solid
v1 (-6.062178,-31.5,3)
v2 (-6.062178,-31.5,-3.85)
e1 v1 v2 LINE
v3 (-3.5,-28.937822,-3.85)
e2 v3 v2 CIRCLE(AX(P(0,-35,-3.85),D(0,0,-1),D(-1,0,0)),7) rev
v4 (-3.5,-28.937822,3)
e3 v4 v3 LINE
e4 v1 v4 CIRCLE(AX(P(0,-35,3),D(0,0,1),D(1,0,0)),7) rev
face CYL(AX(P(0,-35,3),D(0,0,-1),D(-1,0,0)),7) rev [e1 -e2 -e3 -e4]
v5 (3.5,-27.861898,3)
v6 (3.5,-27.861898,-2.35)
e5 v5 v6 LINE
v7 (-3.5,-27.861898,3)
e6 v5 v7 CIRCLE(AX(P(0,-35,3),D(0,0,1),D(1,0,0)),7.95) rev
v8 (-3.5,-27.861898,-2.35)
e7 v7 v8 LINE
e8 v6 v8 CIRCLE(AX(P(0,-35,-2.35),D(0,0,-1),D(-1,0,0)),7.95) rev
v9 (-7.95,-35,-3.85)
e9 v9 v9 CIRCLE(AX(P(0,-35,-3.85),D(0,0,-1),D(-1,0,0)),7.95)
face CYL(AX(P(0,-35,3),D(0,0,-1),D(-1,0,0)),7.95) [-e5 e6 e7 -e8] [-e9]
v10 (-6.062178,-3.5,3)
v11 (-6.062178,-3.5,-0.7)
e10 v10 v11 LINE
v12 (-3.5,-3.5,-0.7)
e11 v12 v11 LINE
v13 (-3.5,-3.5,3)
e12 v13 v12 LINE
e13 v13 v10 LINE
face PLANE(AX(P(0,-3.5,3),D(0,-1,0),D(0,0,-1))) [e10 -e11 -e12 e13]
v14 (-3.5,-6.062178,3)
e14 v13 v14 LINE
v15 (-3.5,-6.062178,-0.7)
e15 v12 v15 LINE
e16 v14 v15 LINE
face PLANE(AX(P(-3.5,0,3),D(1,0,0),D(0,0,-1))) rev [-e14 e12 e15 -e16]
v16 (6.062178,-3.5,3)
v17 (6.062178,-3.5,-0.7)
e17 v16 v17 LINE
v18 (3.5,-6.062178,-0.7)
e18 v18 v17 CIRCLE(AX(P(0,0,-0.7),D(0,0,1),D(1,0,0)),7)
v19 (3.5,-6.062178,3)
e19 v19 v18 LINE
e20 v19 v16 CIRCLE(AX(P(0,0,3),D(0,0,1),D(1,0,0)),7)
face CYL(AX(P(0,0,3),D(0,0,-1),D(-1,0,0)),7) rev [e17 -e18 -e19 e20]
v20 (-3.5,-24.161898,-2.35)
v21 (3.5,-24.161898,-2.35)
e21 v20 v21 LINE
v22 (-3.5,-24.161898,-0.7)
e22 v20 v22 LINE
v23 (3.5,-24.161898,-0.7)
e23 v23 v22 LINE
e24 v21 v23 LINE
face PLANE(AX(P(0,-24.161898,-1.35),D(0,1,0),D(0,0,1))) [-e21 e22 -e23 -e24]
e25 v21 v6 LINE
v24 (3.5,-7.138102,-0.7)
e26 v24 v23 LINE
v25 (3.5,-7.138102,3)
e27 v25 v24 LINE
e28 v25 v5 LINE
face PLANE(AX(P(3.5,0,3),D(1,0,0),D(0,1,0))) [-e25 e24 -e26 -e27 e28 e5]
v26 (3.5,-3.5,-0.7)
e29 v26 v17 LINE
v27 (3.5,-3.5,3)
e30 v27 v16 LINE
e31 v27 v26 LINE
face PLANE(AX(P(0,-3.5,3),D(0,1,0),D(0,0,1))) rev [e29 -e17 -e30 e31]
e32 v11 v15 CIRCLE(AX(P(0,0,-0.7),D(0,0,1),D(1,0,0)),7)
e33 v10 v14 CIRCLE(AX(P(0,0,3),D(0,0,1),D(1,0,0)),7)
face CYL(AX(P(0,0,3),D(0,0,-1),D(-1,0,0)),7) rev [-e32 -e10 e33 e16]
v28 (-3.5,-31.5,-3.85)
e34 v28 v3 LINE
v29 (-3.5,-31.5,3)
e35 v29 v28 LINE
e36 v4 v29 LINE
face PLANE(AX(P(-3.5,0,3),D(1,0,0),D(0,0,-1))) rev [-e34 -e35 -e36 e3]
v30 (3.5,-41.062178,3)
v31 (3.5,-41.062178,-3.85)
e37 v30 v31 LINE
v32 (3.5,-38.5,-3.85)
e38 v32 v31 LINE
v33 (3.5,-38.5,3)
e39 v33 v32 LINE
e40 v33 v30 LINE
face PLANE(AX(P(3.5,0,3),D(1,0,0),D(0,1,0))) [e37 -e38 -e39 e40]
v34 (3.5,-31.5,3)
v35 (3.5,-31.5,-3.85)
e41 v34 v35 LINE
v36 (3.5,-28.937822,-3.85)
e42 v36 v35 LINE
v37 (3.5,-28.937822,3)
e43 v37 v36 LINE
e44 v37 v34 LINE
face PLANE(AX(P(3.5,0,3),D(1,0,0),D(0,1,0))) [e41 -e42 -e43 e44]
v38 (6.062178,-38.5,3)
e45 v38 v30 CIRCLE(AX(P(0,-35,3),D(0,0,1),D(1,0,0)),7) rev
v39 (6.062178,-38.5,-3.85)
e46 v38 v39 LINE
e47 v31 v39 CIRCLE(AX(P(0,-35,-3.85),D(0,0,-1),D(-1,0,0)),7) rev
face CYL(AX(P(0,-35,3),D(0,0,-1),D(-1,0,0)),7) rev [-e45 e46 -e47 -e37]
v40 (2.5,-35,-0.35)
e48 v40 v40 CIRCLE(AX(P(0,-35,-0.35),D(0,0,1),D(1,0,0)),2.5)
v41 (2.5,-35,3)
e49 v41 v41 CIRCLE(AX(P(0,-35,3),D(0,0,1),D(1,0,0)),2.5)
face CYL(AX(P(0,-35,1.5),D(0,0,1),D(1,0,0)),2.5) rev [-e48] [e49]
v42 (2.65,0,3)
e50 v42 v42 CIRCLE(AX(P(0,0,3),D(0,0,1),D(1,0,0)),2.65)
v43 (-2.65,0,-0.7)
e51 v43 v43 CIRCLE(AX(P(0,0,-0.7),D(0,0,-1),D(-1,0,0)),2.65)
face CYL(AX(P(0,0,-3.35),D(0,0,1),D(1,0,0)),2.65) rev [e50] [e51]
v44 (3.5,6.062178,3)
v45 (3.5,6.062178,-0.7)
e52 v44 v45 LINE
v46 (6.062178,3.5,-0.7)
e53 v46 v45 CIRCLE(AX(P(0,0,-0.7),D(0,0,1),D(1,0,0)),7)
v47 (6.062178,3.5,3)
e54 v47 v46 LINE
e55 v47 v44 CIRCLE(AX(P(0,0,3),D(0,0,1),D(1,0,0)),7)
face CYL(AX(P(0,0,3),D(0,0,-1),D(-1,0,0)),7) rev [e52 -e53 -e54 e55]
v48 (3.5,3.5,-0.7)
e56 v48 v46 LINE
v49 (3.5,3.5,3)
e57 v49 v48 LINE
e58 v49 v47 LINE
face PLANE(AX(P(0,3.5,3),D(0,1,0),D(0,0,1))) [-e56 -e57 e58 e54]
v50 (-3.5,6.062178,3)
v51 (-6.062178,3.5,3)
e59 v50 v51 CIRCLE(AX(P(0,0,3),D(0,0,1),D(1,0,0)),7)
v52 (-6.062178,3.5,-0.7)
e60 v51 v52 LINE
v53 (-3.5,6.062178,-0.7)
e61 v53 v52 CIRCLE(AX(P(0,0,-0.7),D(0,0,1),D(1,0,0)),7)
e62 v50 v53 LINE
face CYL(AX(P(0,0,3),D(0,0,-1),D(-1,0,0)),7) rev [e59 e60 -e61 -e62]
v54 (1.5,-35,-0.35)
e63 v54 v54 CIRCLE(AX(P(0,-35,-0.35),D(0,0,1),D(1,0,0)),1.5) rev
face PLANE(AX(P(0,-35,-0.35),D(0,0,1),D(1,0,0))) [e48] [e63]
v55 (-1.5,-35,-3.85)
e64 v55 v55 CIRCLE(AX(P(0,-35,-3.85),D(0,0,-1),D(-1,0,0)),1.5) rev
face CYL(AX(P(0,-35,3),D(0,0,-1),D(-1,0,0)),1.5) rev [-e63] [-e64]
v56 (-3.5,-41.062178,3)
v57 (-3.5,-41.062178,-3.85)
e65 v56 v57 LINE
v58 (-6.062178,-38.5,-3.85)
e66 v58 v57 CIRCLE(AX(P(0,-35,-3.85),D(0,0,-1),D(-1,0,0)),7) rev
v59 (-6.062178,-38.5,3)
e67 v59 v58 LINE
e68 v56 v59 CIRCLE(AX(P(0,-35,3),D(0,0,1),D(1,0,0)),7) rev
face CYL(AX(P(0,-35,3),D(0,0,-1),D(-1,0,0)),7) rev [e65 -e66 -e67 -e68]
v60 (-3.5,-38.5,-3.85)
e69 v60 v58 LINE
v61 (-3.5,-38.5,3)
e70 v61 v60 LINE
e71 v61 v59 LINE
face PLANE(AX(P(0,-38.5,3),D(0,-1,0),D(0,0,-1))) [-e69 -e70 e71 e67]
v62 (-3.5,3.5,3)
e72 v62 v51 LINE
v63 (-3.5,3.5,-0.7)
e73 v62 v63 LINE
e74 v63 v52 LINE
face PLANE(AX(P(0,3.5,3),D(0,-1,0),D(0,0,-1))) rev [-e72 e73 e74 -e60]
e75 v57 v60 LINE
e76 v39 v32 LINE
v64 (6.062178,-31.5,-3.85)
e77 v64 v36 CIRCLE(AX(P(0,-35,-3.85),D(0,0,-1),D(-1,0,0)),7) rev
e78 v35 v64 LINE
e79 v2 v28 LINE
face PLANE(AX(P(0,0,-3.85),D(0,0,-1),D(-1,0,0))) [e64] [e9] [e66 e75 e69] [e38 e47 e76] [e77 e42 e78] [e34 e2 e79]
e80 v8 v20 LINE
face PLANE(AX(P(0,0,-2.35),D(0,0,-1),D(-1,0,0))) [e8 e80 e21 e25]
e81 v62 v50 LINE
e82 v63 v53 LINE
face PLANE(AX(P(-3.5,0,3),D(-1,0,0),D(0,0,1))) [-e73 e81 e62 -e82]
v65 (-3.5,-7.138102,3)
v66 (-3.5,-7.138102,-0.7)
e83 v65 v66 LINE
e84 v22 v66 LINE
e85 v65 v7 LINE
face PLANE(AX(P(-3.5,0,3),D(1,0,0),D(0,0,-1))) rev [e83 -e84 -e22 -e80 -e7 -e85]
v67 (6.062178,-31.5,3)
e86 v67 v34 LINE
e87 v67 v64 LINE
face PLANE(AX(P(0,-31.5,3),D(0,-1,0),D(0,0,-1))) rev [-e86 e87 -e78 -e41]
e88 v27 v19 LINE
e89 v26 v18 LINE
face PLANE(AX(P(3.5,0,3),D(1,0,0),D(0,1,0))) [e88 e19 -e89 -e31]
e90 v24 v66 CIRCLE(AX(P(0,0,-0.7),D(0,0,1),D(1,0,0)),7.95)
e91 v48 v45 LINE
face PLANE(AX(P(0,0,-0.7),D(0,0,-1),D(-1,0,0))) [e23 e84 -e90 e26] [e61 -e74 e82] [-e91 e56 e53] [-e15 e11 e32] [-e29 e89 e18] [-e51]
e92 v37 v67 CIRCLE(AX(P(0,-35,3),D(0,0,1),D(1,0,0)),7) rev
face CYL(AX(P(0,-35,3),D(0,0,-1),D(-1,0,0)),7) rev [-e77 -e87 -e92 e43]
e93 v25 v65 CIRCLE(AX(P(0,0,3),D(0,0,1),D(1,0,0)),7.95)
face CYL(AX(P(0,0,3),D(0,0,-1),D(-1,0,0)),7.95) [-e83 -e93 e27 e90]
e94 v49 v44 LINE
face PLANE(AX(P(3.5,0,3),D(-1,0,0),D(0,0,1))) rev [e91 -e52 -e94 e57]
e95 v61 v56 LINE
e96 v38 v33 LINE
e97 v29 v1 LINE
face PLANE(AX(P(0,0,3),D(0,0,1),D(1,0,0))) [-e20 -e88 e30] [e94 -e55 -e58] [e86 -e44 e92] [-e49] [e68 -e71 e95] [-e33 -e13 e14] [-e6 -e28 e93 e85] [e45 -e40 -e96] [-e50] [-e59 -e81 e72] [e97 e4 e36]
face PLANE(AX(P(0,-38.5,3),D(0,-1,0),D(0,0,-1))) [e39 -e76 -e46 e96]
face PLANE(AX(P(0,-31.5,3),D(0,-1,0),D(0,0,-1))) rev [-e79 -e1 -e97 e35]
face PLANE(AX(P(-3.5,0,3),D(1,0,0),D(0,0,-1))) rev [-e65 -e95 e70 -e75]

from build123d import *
from build123d.topology import SkipClean

# Parameters (mm, degrees)
SKETCH1_R               = 3.5
SKETCH1_R_2             = 1.5
BOSS_EXTRUDE4_DEPTH     = 3
BOSS_EXTRUDE5_START     = 3
SKETCH3_R               = 1.5
BOSS_EXTRUDE5_DEPTH     = 3
SKETCH4_R               = 2.5
CUT_EXTRUDE1_DEPTH      = 1.5
SKETCH5_R               = 7
CUT_EXTRUDE2_DEPTH      = 2
SKETCH6_R               = 7.95
CUT_EXTRUDE3_DEPTH      = 1
SKETCH7_R               = 2.5
CUT_EXTRUDE4_DEPTH      = 1.85
BOSS_EXTRUDE6_START     = 0.7
SKETCH8_R               = 7.95
SKETCH8_R_2             = 7
BOSS_EXTRUDE6_DEPTH     = 0.7
BOSS_EXTRUDE8_START     = 0.7
SKETCH9_R               = 7.95
SKETCH9_R_2             = 1.5
BOSS_EXTRUDE8_DEPTH     = 0.7
BOSS_EXTRUDE9_START     = 0.7
BOSS_EXTRUDE9_DEPTH     = 0.7
CUT_EXTRUDE5_DEPTH      = 45.603755447
CUT_EXTRUDE5_DEPTH_BACK = 45.603755447
SKETCH11_W              = 3
SKETCH11_H              = 15.9
SKETCH11_W_2            = 2
BOSS_EXTRUDE10_START    = 0.65
BOSS_EXTRUDE10_DEPTH    = 0.65
BOSS_EXTRUDE11_START    = 2.65
SKETCH13_R              = 1.5
BOSS_EXTRUDE11_DEPTH    = 2.65
SKETCH14_R              = 2.65
CUT_EXTRUDE6_DEPTH      = 45.138730158
BOSS_EXTRUDE12_START    = 0.5
SKETCH15_R              = 7.95
SKETCH15_R_2            = 1.5
BOSS_EXTRUDE12_DEPTH    = 0.5
BOSS_EXTRUDE13_START    = 1
BOSS_EXTRUDE13_DEPTH    = 1


with BuildPart() as part:
    # Sketch1 → Boss-Extrude4 (new body)
    # profile 1 of 34: a face of its own
    with BuildSketch(Plane.XY):
        with BuildLine():
            Line((-3.5, 3.5), (0, 3.5))
            Line((0, 3.5), (3.5, 3.5))
            Line((3.5, 3.5), (3.5, 6.062177826))
            ThreePointArc((3.5, 6.062177826), (0, 7), (-3.5, 6.062177826))
            Line((-3.5, 6.062177826), (-3.5, 3.5))
        make_face()
    # profile 2 of 34: a face of its own
    with BuildSketch(Plane.XY):
        with BuildLine():
            ThreePointArc((3.5, 6.062177826), (4.949747468, 4.949747468), (6.062177826, 3.5))
            Line((6.062177826, 3.5), (7.138101989, 3.5))
            ThreePointArc((7.138101989, 3.5), (0, 7.95), (-7.138101989, 3.5))
            Line((-7.138101989, 3.5), (-6.062177826, 3.5))
            ThreePointArc((-6.062177826, 3.5), (-4.949747468, 4.949747468), (-3.5, 6.062177826))
            ThreePointArc((-3.5, 6.062177826), (0, 7), (3.5, 6.062177826))
        make_face()
    # profile 3 of 34: a face of its own
    with BuildSketch(Plane.XY):
        with BuildLine():
            Line((3.5, -27.861898011), (3.5, -7.138101989))
            ThreePointArc((3.5, -7.138101989), (0, -7.95), (-3.5, -7.138101989))
            Line((-3.5, -7.138101989), (-3.5, -27.861898011))
            ThreePointArc((-3.5, -27.861898011), (0, -27.05), (3.5, -27.861898011))
        make_face()
    # profile 4 of 34: a face of its own
    with BuildSketch(Plane.XY):
        with BuildLine():
            Line((-6.062177826, -38.5), (-7.138101989, -38.5))
            ThreePointArc((-7.138101989, -38.5), (0, -42.95), (7.138101989, -38.5))
            Line((7.138101989, -38.5), (6.062177826, -38.5))
            ThreePointArc((6.062177826, -38.5), (4.949747468, -39.949747468), (3.5, -41.062177826))
            ThreePointArc((3.5, -41.062177826), (0, -42), (-3.5, -41.062177826))
            ThreePointArc((-3.5, -41.062177826), (-4.949747468, -39.949747468), (-6.062177826, -38.5))
        make_face()
    # profile 5 of 34: a face of its own
    with BuildSketch(Plane.XY):
        with BuildLine():
            Line((3.5, -41.062177826), (3.5, -38.5))
            Line((3.5, -38.5), (0, -38.5))
            Line((0, -38.5), (-3.5, -38.5))
            Line((-3.5, -38.5), (-3.5, -41.062177826))
            ThreePointArc((-3.5, -41.062177826), (0, -42), (3.5, -41.062177826))
        make_face()
    # profile 6 of 34: a face of its own
    with BuildSketch(Plane.XY):
        with BuildLine():
            ThreePointArc((7.95, -35), (7.744366043, -33.203532746), (7.138101989, -31.5))
            Line((7.138101989, -31.5), (6.062177826, -31.5))
            ThreePointArc((6.062177826, -31.5), (6.761480784, -33.188266684), (7, -35))
            ThreePointArc((7, -35), (6.761480784, -36.811733316), (6.062177826, -38.5))
            Line((6.062177826, -38.5), (7.138101989, -38.5))
            ThreePointArc((7.138101989, -38.5), (7.744366043, -36.796467254), (7.95, -35))
        make_face()
    # profile 7 of 34: a face of its own
    with BuildSketch(Plane.XY):
        with BuildLine():
            Line((-6.062177826, -31.5), (-7.138101989, -31.5))
            ThreePointArc((-7.138101989, -31.5), (-7.95, -35), (-7.138101989, -38.5))
            Line((-7.138101989, -38.5), (-6.062177826, -38.5))
            ThreePointArc((-6.062177826, -38.5), (-7, -35), (-6.062177826, -31.5))
        make_face()
    # profile 8 of 34: a face of its own
    with BuildSketch(Plane.XY):
        with BuildLine():
            Line((3.5, -38.5), (3.5, -35))
            ThreePointArc((3.5, -35), (2.474873734, -37.474873734), (0, -38.5))
            Line((0, -38.5), (3.5, -38.5))
        make_face()
    # profile 9 of 34: a face of its own
    with BuildSketch(Plane.XY):
        with BuildLine():
            ThreePointArc((0, -38.5), (-2.474873734, -37.474873734), (-3.5, -35))
            Line((-3.5, -35), (-3.5, -38.5))
            Line((-3.5, -38.5), (0, -38.5))
        make_face()
    # profile 10 of 34: a face of its own
    with BuildSketch(Plane.XY):
        with BuildLine():
            ThreePointArc((7.95, -35), (7.744366043, -33.203532746), (7.138101989, -31.5))
            Line((7.138101989, -31.5), (6.062177826, -31.5))
            ThreePointArc((6.062177826, -31.5), (6.761480784, -33.188266684), (7, -35))
            ThreePointArc((7, -35), (6.761480784, -36.811733316), (6.062177826, -38.5))
            Line((6.062177826, -38.5), (7.138101989, -38.5))
            ThreePointArc((7.138101989, -38.5), (7.744366043, -36.796467254), (7.95, -35))
        make_face()
    # profile 11 of 34: a face of its own
    with BuildSketch(Plane.XY):
        with BuildLine():
            Line((-6.062177826, -31.5), (-7.138101989, -31.5))
            ThreePointArc((-7.138101989, -31.5), (-7.95, -35), (-7.138101989, -38.5))
            Line((-7.138101989, -38.5), (-6.062177826, -38.5))
            ThreePointArc((-6.062177826, -38.5), (-7, -35), (-6.062177826, -31.5))
        make_face()
    # profile 12 of 34: a face of its own
    with BuildSketch(Plane.XY):
        with Locations((0, -35)):
            Circle(SKETCH1_R)
        with Locations((0, -35)):
            Circle(SKETCH1_R_2, mode=Mode.SUBTRACT)
    # profile 13 of 34: a face of its own
    with BuildSketch(Plane.XY):
        with BuildLine():
            Line((0, -31.5), (-3.5, -31.5))
            Line((-3.5, -31.5), (-3.5, -35))
            ThreePointArc((-3.5, -35), (-2.474873734, -32.525126266), (0, -31.5))
        make_face()
    # profile 14 of 34: a face of its own
    with BuildSketch(Plane.XY):
        with BuildLine():
            Line((3.5, -35), (3.5, -31.5))
            Line((3.5, -31.5), (0, -31.5))
            ThreePointArc((0, -31.5), (2.474873734, -32.525126266), (3.5, -35))
        make_face()
    # profile 15 of 34: a face of its own
    with BuildSketch(Plane.XY):
        with BuildLine():
            Line((3.5, -31.5), (3.5, -28.937822174))
            ThreePointArc((3.5, -28.937822174), (0, -28), (-3.5, -28.937822174))
            Line((-3.5, -28.937822174), (-3.5, -31.5))
            Line((-3.5, -31.5), (0, -31.5))
            Line((0, -31.5), (3.5, -31.5))
        make_face()
    # profile 16 of 34: a face of its own
    with BuildSketch(Plane.XY):
        with BuildLine():
            Line((-3.5, -28.937822174), (-3.5, -27.861898011))
            ThreePointArc((-3.5, -27.861898011), (-5.62149891, -29.37850109), (-7.138101989, -31.5))
            Line((-7.138101989, -31.5), (-6.062177826, -31.5))
            ThreePointArc((-6.062177826, -31.5), (-4.949747468, -30.050252532), (-3.5, -28.937822174))
        make_face()
    # profile 17 of 34: a face of its own
    with BuildSketch(Plane.XY):
        with BuildLine():
            ThreePointArc((7.138101989, -31.5), (5.62149891, -29.37850109), (3.5, -27.861898011))
            Line((3.5, -27.861898011), (3.5, -28.937822174))
            ThreePointArc((3.5, -28.937822174), (4.949747468, -30.050252532), (6.062177826, -31.5))
            Line((6.062177826, -31.5), (7.138101989, -31.5))
        make_face()
    # profile 18 of 34: a face of its own
    with BuildSketch(Plane.XY):
        with BuildLine():
            Line((3.5, -28.937822174), (3.5, -27.861898011))
            ThreePointArc((3.5, -27.861898011), (0, -27.05), (-3.5, -27.861898011))
            Line((-3.5, -27.861898011), (-3.5, -28.937822174))
            ThreePointArc((-3.5, -28.937822174), (0, -28), (3.5, -28.937822174))
        make_face()
    # profile 19 of 34: a face of its own
    with BuildSketch(Plane.XY):
        with BuildLine():
            Line((-3.5, -35), (-3.5, -31.5))
            Line((-3.5, -31.5), (-6.062177826, -31.5))
            ThreePointArc((-6.062177826, -31.5), (-7, -35), (-6.062177826, -38.5))
            Line((-6.062177826, -38.5), (-3.5, -38.5))
            Line((-3.5, -38.5), (-3.5, -35))
        make_face()
    # profile 20 of 34: a face of its own
    with BuildSketch(Plane.XY):
        with BuildLine():
            Line((6.062177826, -31.5), (3.5, -31.5))
            Line((3.5, -31.5), (3.5, -35))
            Line((3.5, -35), (3.5, -38.5))
            Line((3.5, -38.5), (6.062177826, -38.5))
            ThreePointArc((6.062177826, -38.5), (6.761480784, -36.811733316), (7, -35))
            ThreePointArc((7, -35), (6.761480784, -33.188266684), (6.062177826, -31.5))
        make_face()
    # profile 21 of 34: a face of its own
    with BuildSketch(Plane.XY):
        with BuildLine():
            Line((3.5, -6.062177826), (3.5, -3.5))
            Line((3.5, -3.5), (0, -3.5))
            Line((0, -3.5), (-3.5, -3.5))
            Line((-3.5, -3.5), (-3.5, -6.062177826))
            ThreePointArc((-3.5, -6.062177826), (0, -7), (3.5, -6.062177826))
        make_face()
    # profile 22 of 34: a face of its own
    with BuildSketch(Plane.XY):
        with BuildLine():
            Line((3.5, -7.138101989), (3.5, -6.062177826))
            ThreePointArc((3.5, -6.062177826), (0, -7), (-3.5, -6.062177826))
            Line((-3.5, -6.062177826), (-3.5, -7.138101989))
            ThreePointArc((-3.5, -7.138101989), (0, -7.95), (3.5, -7.138101989))
        make_face()
    # profile 23 of 34: a face of its own
    with BuildSketch(Plane.XY):
        with BuildLine():
            Line((7.138101989, -3.5), (6.062177826, -3.5))
            ThreePointArc((6.062177826, -3.5), (4.949747468, -4.949747468), (3.5, -6.062177826))
            Line((3.5, -6.062177826), (3.5, -7.138101989))
            ThreePointArc((3.5, -7.138101989), (5.62149891, -5.62149891), (7.138101989, -3.5))
        make_face()
    # profile 24 of 34: a face of its own
    with BuildSketch(Plane.XY):
        with BuildLine():
            Line((7.138101989, 3.5), (6.062177826, 3.5))
            ThreePointArc((6.062177826, 3.5), (6.761480784, 1.811733316), (7, 0))
            ThreePointArc((7, 0), (6.761480784, -1.811733316), (6.062177826, -3.5))
            Line((6.062177826, -3.5), (7.138101989, -3.5))
            ThreePointArc((7.138101989, -3.5), (7.744366043, -1.796467254), (7.95, 0))
            ThreePointArc((7.95, 0), (7.744366043, 1.796467254), (7.138101989, 3.5))
        make_face()
    # profile 25 of 34: a face of its own
    with BuildSketch(Plane.XY):
        with BuildLine():
            Line((7.138101989, 3.5), (6.062177826, 3.5))
            ThreePointArc((6.062177826, 3.5), (6.761480784, 1.811733316), (7, 0))
            ThreePointArc((7, 0), (6.761480784, -1.811733316), (6.062177826, -3.5))
            Line((6.062177826, -3.5), (7.138101989, -3.5))
            ThreePointArc((7.138101989, -3.5), (7.744366043, -1.796467254), (7.95, 0))
            ThreePointArc((7.95, 0), (7.744366043, 1.796467254), (7.138101989, 3.5))
        make_face()
    # profile 26 of 34: a face of its own
    with BuildSketch(Plane.XY):
        with BuildLine():
            ThreePointArc((-6.062177826, -3.5), (-7, 0), (-6.062177826, 3.5))
            Line((-6.062177826, 3.5), (-7.138101989, 3.5))
            ThreePointArc((-7.138101989, 3.5), (-7.95, 0), (-7.138101989, -3.5))
            Line((-7.138101989, -3.5), (-6.062177826, -3.5))
        make_face()
    # profile 27 of 34: a face of its own
    with BuildSketch(Plane.XY):
        with BuildLine():
            ThreePointArc((-3.5, -6.062177826), (-4.949747468, -4.949747468), (-6.062177826, -3.5))
            Line((-6.062177826, -3.5), (-7.138101989, -3.5))
            ThreePointArc((-7.138101989, -3.5), (-5.62149891, -5.62149891), (-3.5, -7.138101989))
            Line((-3.5, -7.138101989), (-3.5, -6.062177826))
        make_face()
    # profile 28 of 34: a face of its own
    with BuildSketch(Plane.XY):
        with BuildLine():
            Line((-3.5, 0), (-3.5, 3.5))
            Line((-3.5, 3.5), (-6.062177826, 3.5))
            ThreePointArc((-6.062177826, 3.5), (-7, 0), (-6.062177826, -3.5))
            Line((-6.062177826, -3.5), (-3.5, -3.5))
            Line((-3.5, -3.5), (-3.5, 0))
        make_face()
    # profile 29 of 34: a face of its own
    with BuildSketch(Plane.XY):
        with BuildLine():
            Line((6.062177826, 3.5), (3.5, 3.5))
            Line((3.5, 3.5), (3.5, 0))
            Line((3.5, 0), (3.5, -3.5))
            Line((3.5, -3.5), (6.062177826, -3.5))
            ThreePointArc((6.062177826, -3.5), (6.761480784, -1.811733316), (7, 0))
            ThreePointArc((7, 0), (6.761480784, 1.811733316), (6.062177826, 3.5))
        make_face()
    # profile 30 of 34: a face of its own
    with BuildSketch(Plane.XY):
        with BuildLine():
            Line((3.5, -3.5), (3.5, 0))
            ThreePointArc((3.5, 0), (2.474873734, -2.474873734), (0, -3.5))
            Line((0, -3.5), (3.5, -3.5))
        make_face()
    # profile 31 of 34: a face of its own
    with BuildSketch(Plane.XY):
        Circle(SKETCH1_R)
        Circle(SKETCH1_R_2, mode=Mode.SUBTRACT)
    # profile 32 of 34: a face of its own
    with BuildSketch(Plane.XY):
        with BuildLine():
            ThreePointArc((0, -3.5), (-2.474873734, -2.474873734), (-3.5, 0))
            Line((-3.5, 0), (-3.5, -3.5))
            Line((-3.5, -3.5), (0, -3.5))
        make_face()
    # profile 33 of 34: a face of its own
    with BuildSketch(Plane.XY):
        with BuildLine():
            ThreePointArc((-3.5, 0), (-2.474873734, 2.474873734), (0, 3.5))
            Line((0, 3.5), (-3.5, 3.5))
            Line((-3.5, 3.5), (-3.5, 0))
        make_face()
    # profile 34 of 34: a face of its own
    with BuildSketch(Plane.XY):
        with BuildLine():
            Line((3.5, 3.5), (0, 3.5))
            ThreePointArc((0, 3.5), (2.474873734, 2.474873734), (3.5, 0))
            Line((3.5, 0), (3.5, 3.5))
        make_face()
    extrude(amount=BOSS_EXTRUDE4_DEPTH)

    # Sketch3 → Boss-Extrude5 (add)
    # profile 1 of 4: a face of its own
    with SkipClean():  # the faces are left unmerged after this step: merging them gives an invalid solid
        with BuildSketch(Plane(origin=(0, 0, 0), x_dir=(-1, 0, 0), z_dir=(0, 0, -1)).offset(BOSS_EXTRUDE5_START)):
            with BuildLine():
                ThreePointArc((3.5, -7.138101989), (6.746387922, -4.205799567), (7.95, 0))
                ThreePointArc((7.95, 0), (-4.205799567, 6.746387922), (-3.5, -7.138101989))
                ThreePointArc((-3.5, -7.138101989), (0, -7.95), (3.5, -7.138101989))
            make_face()
            with BuildLine():
                ThreePointArc((-6.062177826, 3.5), (-4.949747468, 4.949747468), (-3.5, 6.062177826))
                ThreePointArc((-3.5, 6.062177826), (0, 7), (3.5, 6.062177826))
                ThreePointArc((3.5, 6.062177826), (4.949747468, 4.949747468), (6.062177826, 3.5))
                ThreePointArc((6.062177826, 3.5), (6.761480784, 1.811733316), (7, 0))
                ThreePointArc((7, 0), (6.761480784, -1.811733316), (6.062177826, -3.5))
                ThreePointArc((6.062177826, -3.5), (4.949747468, -4.949747468), (3.5, -6.062177826))
                ThreePointArc((3.5, -6.062177826), (0, -7), (-3.5, -6.062177826))
                ThreePointArc((-3.5, -6.062177826), (-4.949747468, -4.949747468), (-6.062177826, -3.5))
                ThreePointArc((-6.062177826, -3.5), (-7, 0), (-6.062177826, 3.5))
            make_face(mode=Mode.SUBTRACT)
        # profile 2 of 4: a face of its own
        with BuildSketch(Plane(origin=(0, 0, 0), x_dir=(-1, 0, 0), z_dir=(0, 0, -1)).offset(BOSS_EXTRUDE5_START)):
            with BuildLine():
                ThreePointArc((3.5, 6.062177826), (0, 7), (-3.5, 6.062177826))
                Line((-3.5, 6.062177826), (-3.5, 3.5))
                Line((-3.5, 3.5), (-6.062177826, 3.5))
                ThreePointArc((-6.062177826, 3.5), (-7, 0), (-6.062177826, -3.5))
                Line((-6.062177826, -3.5), (-3.5, -3.5))
                Line((-3.5, -3.5), (-3.5, -6.062177826))
                ThreePointArc((-3.5, -6.062177826), (0, -7), (3.5, -6.062177826))
                Line((3.5, -6.062177826), (3.5, -3.5))
                Line((3.5, -3.5), (6.062177826, -3.5))
                ThreePointArc((6.062177826, -3.5), (6.761480784, -1.811733316), (7, 0))
                ThreePointArc((7, 0), (6.761480784, 1.811733316), (6.062177826, 3.5))
                Line((6.062177826, 3.5), (3.5, 3.5))
                Line((3.5, 3.5), (3.5, 6.062177826))
            make_face()
            Circle(SKETCH3_R, mode=Mode.SUBTRACT)
        # profile 3 of 4: a face of its own
        with BuildSketch(Plane(origin=(0, 0, 0), x_dir=(-1, 0, 0), z_dir=(0, 0, -1)).offset(BOSS_EXTRUDE5_START)):
            with BuildLine():
                ThreePointArc((-3.5, -27.861898011), (-4.205799567, -41.746387922), (7.95, -35))
                ThreePointArc((7.95, -35), (6.746387922, -30.794200433), (3.5, -27.861898011))
                ThreePointArc((3.5, -27.861898011), (0, -27.05), (-3.5, -27.861898011))
            make_face()
            with BuildLine():
                ThreePointArc((6.062177826, -38.5), (4.949747468, -39.949747468), (3.5, -41.062177826))
                ThreePointArc((3.5, -41.062177826), (0, -42), (-3.5, -41.062177826))
                ThreePointArc((-3.5, -41.062177826), (-4.949747468, -39.949747468), (-6.062177826, -38.5))
                ThreePointArc((-6.062177826, -38.5), (-7, -35), (-6.062177826, -31.5))
                ThreePointArc((-6.062177826, -31.5), (-4.949747468, -30.050252532), (-3.5, -28.937822174))
                ThreePointArc((-3.5, -28.937822174), (0, -28), (3.5, -28.937822174))
                ThreePointArc((3.5, -28.937822174), (4.949747468, -30.050252532), (6.062177826, -31.5))
                ThreePointArc((6.062177826, -31.5), (6.761480784, -33.188266684), (7, -35))
                ThreePointArc((7, -35), (6.761480784, -36.811733316), (6.062177826, -38.5))
            make_face(mode=Mode.SUBTRACT)
        # profile 4 of 4: a face of its own
        with BuildSketch(Plane(origin=(0, 0, 0), x_dir=(-1, 0, 0), z_dir=(0, 0, -1)).offset(BOSS_EXTRUDE5_START)):
            with BuildLine():
                ThreePointArc((-3.5, -41.062177826), (0, -42), (3.5, -41.062177826))
                Line((3.5, -41.062177826), (3.5, -38.5))
                Line((3.5, -38.5), (6.062177826, -38.5))
                ThreePointArc((6.062177826, -38.5), (6.761480784, -36.811733316), (7, -35))
                ThreePointArc((7, -35), (6.761480784, -33.188266684), (6.062177826, -31.5))
                Line((6.062177826, -31.5), (3.5, -31.5))
                Line((3.5, -31.5), (3.5, -28.937822174))
                ThreePointArc((3.5, -28.937822174), (0, -28), (-3.5, -28.937822174))
                Line((-3.5, -28.937822174), (-3.5, -31.5))
                Line((-3.5, -31.5), (-6.062177826, -31.5))
                ThreePointArc((-6.062177826, -31.5), (-7, -35), (-6.062177826, -38.5))
                Line((-6.062177826, -38.5), (-3.5, -38.5))
                Line((-3.5, -38.5), (-3.5, -41.062177826))
            make_face()
            with Locations((0, -35)):
                Circle(SKETCH3_R, mode=Mode.SUBTRACT)
        extrude(amount=-BOSS_EXTRUDE5_DEPTH)

    # Sketch4 → Cut-Extrude1 (cut)
    with SkipClean():  # the faces are left unmerged after this step: merging them gives an invalid solid
        with BuildSketch(Plane.XY.offset(3)):
            with Locations((0, -35)):
                Circle(SKETCH4_R)
            with Locations(Location((0, 0, 0), (0, 0, 180))):
                Circle(SKETCH4_R)
        extrude(amount=-CUT_EXTRUDE1_DEPTH, mode=Mode.SUBTRACT)

    # Sketch5 → Cut-Extrude2 (cut)
    with SkipClean():  # the faces are left unmerged after this step: merging them gives an invalid solid
        with BuildSketch(Plane(origin=(0, 0, -3), x_dir=(-1, 0, 0), z_dir=(0, 0, -1))):
            Circle(SKETCH5_R)
        extrude(amount=-CUT_EXTRUDE2_DEPTH, mode=Mode.SUBTRACT)

    # Sketch6 → Cut-Extrude3 (cut)
    with SkipClean():  # the faces are left unmerged after this step: merging them gives an invalid solid
        with BuildSketch(Plane(origin=(0, 0, -3), x_dir=(-1, 0, 0), z_dir=(0, 0, -1))):
            with Locations((0, -35)):
                Circle(SKETCH6_R)
        extrude(amount=-CUT_EXTRUDE3_DEPTH, mode=Mode.SUBTRACT)

    # Sketch7 → Cut-Extrude4 (cut)
    with SkipClean():  # the faces are left unmerged after this step: merging them gives an invalid solid
        with BuildSketch(Plane.XY.offset(1.5)):
            with Locations((0, -35)):
                Circle(SKETCH7_R)
        extrude(amount=-CUT_EXTRUDE4_DEPTH, mode=Mode.SUBTRACT)

    # Sketch8 → Boss-Extrude6 (add)
    with SkipClean():  # the faces are left unmerged after this step: merging them gives an invalid solid
        with BuildSketch(Plane(origin=(0, 0, -3), x_dir=(-1, 0, 0), z_dir=(0, 0, -1)).offset(BOSS_EXTRUDE6_START)):
            Circle(SKETCH8_R)
            Circle(SKETCH8_R_2, mode=Mode.SUBTRACT)
        extrude(amount=-BOSS_EXTRUDE6_DEPTH)

    # Sketch9 → Boss-Extrude8 (add)
    # profile 1 of 2: a face of its own
    with SkipClean():  # the faces are left unmerged after this step: merging them gives an invalid solid
        with BuildSketch(Plane(origin=(0, 0, -2), x_dir=(-1, 0, 0), z_dir=(0, 0, -1)).offset(BOSS_EXTRUDE8_START)):
            with Locations((0, -35)):
                Circle(SKETCH9_R)
            with BuildLine():
                ThreePointArc((-6.062177826, -31.5), (-4.949747468, -30.050252532), (-3.5, -28.937822174))
                ThreePointArc((-3.5, -28.937822174), (0, -28), (3.5, -28.937822174))
                ThreePointArc((3.5, -28.937822174), (4.949747468, -30.050252532), (6.062177826, -31.5))
                ThreePointArc((6.062177826, -31.5), (6.761480784, -33.188266684), (7, -35))
                ThreePointArc((7, -35), (6.761480784, -36.811733316), (6.062177826, -38.5))
                ThreePointArc((6.062177826, -38.5), (4.949747468, -39.949747468), (3.5, -41.062177826))
                ThreePointArc((3.5, -41.062177826), (0, -42), (-3.5, -41.062177826))
                ThreePointArc((-3.5, -41.062177826), (-4.949747468, -39.949747468), (-6.062177826, -38.5))
                ThreePointArc((-6.062177826, -38.5), (-7, -35), (-6.062177826, -31.5))
            make_face(mode=Mode.SUBTRACT)
        # profile 2 of 2: a face of its own
        with BuildSketch(Plane(origin=(0, 0, -2), x_dir=(-1, 0, 0), z_dir=(0, 0, -1)).offset(BOSS_EXTRUDE8_START)):
            with BuildLine():
                ThreePointArc((3.5, -28.937822174), (0, -28), (-3.5, -28.937822174))
                Line((-3.5, -28.937822174), (-3.5, -31.5))
                Line((-3.5, -31.5), (-6.062177826, -31.5))
                ThreePointArc((-6.062177826, -31.5), (-7, -35), (-6.062177826, -38.5))
                Line((-6.062177826, -38.5), (-3.5, -38.5))
                Line((-3.5, -38.5), (-3.5, -41.062177826))
                ThreePointArc((-3.5, -41.062177826), (0, -42), (3.5, -41.062177826))
                Line((3.5, -41.062177826), (3.5, -38.5))
                Line((3.5, -38.5), (6.062177826, -38.5))
                ThreePointArc((6.062177826, -38.5), (6.761480784, -36.811733316), (7, -35))
                ThreePointArc((7, -35), (6.761480784, -33.188266684), (6.062177826, -31.5))
                Line((6.062177826, -31.5), (3.5, -31.5))
                Line((3.5, -31.5), (3.5, -28.937822174))
            make_face()
            with Locations((0, -35)):
                Circle(SKETCH9_R_2, mode=Mode.SUBTRACT)
        extrude(amount=-BOSS_EXTRUDE8_DEPTH)

    # Sketch10 → Boss-Extrude9 (add)
    with SkipClean():  # the faces are left unmerged after this step: merging them gives an invalid solid
        with BuildSketch(Plane(origin=(0, 0, 0), x_dir=(-1, 0, 0), z_dir=(0, 0, -1)).offset(BOSS_EXTRUDE9_START)):
            with BuildLine():
                ThreePointArc((3.5, -7.138101989), (0, -7.95), (-3.5, -7.138101989))
                Line((-3.5, -7.138101989), (-3.5, -27.861898011))
                ThreePointArc((-3.5, -27.861898011), (0, -27.05), (3.5, -27.861898011))
                Line((3.5, -27.861898011), (3.5, -7.138101989))
            make_face()
        extrude(amount=-BOSS_EXTRUDE9_DEPTH)

    # Sketch11 → Cut-Extrude5 (cut, two sides: drawn at the far end of the back side and taken through both)
    with SkipClean():  # the faces are left unmerged after this step: merging them gives an invalid solid
        with BuildSketch(Plane(origin=(3.5, 0, 0), x_dir=(0, 0, -1), z_dir=(1, 0, 0)).offset(-CUT_EXTRUDE5_DEPTH_BACK)):
            with Locations((2.2, 0)):
                Rectangle(SKETCH11_W, SKETCH11_H)
            with Locations((1.7, -35)):
                Rectangle(SKETCH11_W_2, SKETCH11_H)
        extrude(amount=CUT_EXTRUDE5_DEPTH + CUT_EXTRUDE5_DEPTH_BACK, mode=Mode.SUBTRACT)

    # Sketch12 → Boss-Extrude10 (add)
    with SkipClean():  # the faces are left unmerged after this step: merging them gives an invalid solid
        with BuildSketch(Plane(origin=(0, 0, -0.7), x_dir=(-1, 0, 0), z_dir=(0, 0, -1)).offset(BOSS_EXTRUDE10_START)):
            with BuildLine():
                Line((-3.5, -24.161898011), (-3.5, -27.861898011))
                ThreePointArc((-3.5, -27.861898011), (0, -27.05), (3.5, -27.861898011))
                Line((3.5, -27.861898011), (3.5, -24.161898011))
                Line((3.5, -24.161898011), (-3.5, -24.161898011))
            make_face()
        extrude(amount=-BOSS_EXTRUDE10_DEPTH)

    # Sketch13 → Boss-Extrude11 (add)
    # profile 1 of 2: a face of its own
    with SkipClean():  # the faces are left unmerged after this step: merging them gives an invalid solid
        with BuildSketch(Plane(origin=(0, 0, -0.7), x_dir=(-1, 0, 0), z_dir=(0, 0, -1)).offset(BOSS_EXTRUDE11_START)):
            with BuildLine():
                ThreePointArc((-3.5, -27.861898011), (-4.205799567, -41.746387922), (7.95, -35))
                ThreePointArc((7.95, -35), (6.746387922, -30.794200433), (3.5, -27.861898011))
                ThreePointArc((3.5, -27.861898011), (0, -27.05), (-3.5, -27.861898011))
            make_face()
            with BuildLine():
                ThreePointArc((-6.062177826, -38.5), (-7, -35), (-6.062177826, -31.5))
                ThreePointArc((-6.062177826, -31.5), (-4.949747468, -30.050252532), (-3.5, -28.937822174))
                ThreePointArc((-3.5, -28.937822174), (0, -28), (3.5, -28.937822174))
                ThreePointArc((3.5, -28.937822174), (4.949747468, -30.050252532), (6.062177826, -31.5))
                ThreePointArc((6.062177826, -31.5), (6.761480784, -33.188266684), (7, -35))
                ThreePointArc((7, -35), (6.761480784, -36.811733316), (6.062177826, -38.5))
                ThreePointArc((6.062177826, -38.5), (4.949747468, -39.949747468), (3.5, -41.062177826))
                ThreePointArc((3.5, -41.062177826), (0, -42), (-3.5, -41.062177826))
                ThreePointArc((-3.5, -41.062177826), (-4.949747468, -39.949747468), (-6.062177826, -38.5))
            make_face(mode=Mode.SUBTRACT)
        # profile 2 of 2: a face of its own
        with BuildSketch(Plane(origin=(0, 0, -0.7), x_dir=(-1, 0, 0), z_dir=(0, 0, -1)).offset(BOSS_EXTRUDE11_START)):
            with BuildLine():
                Line((-3.5, -31.5), (-6.062177826, -31.5))
                ThreePointArc((-6.062177826, -31.5), (-7, -35), (-6.062177826, -38.5))
                Line((-6.062177826, -38.5), (-3.5, -38.5))
                Line((-3.5, -38.5), (-3.5, -41.062177826))
                ThreePointArc((-3.5, -41.062177826), (0, -42), (3.5, -41.062177826))
                Line((3.5, -41.062177826), (3.5, -38.5))
                Line((3.5, -38.5), (6.062177826, -38.5))
                ThreePointArc((6.062177826, -38.5), (6.761480784, -36.811733316), (7, -35))
                ThreePointArc((7, -35), (6.761480784, -33.188266684), (6.062177826, -31.5))
                Line((6.062177826, -31.5), (3.5, -31.5))
                Line((3.5, -31.5), (3.5, -28.937822174))
                ThreePointArc((3.5, -28.937822174), (0, -28), (-3.5, -28.937822174))
                Line((-3.5, -28.937822174), (-3.5, -31.5))
            make_face()
            with Locations((0, -35)):
                Circle(SKETCH13_R, mode=Mode.SUBTRACT)
        extrude(amount=-BOSS_EXTRUDE11_DEPTH)

    # Sketch14 → Cut-Extrude6 (cut, through all)
    with SkipClean():  # the faces are left unmerged after this step: merging them gives an invalid solid
        with BuildSketch(Plane.XY.offset(3)):
            Circle(SKETCH14_R)
        extrude(amount=-CUT_EXTRUDE6_DEPTH, mode=Mode.SUBTRACT)

    # Sketch15 → Boss-Extrude12 (add)
    with SkipClean():  # the faces are left unmerged after this step: merging them gives an invalid solid
        with BuildSketch(Plane(origin=(0, 0, -3.35), x_dir=(-1, 0, 0), z_dir=(0, 0, -1)).offset(BOSS_EXTRUDE12_START)):
            with Locations((0, -35)):
                Circle(SKETCH15_R)
            with Locations((0, -35)):
                Circle(SKETCH15_R_2, mode=Mode.SUBTRACT)
            with BuildLine():
                Line((3.5, -41.062177826), (3.5, -38.5))
                Line((3.5, -38.5), (6.062177826, -38.5))
                ThreePointArc((6.062177826, -38.5), (4.949747468, -39.949747468), (3.5, -41.062177826))
            make_face(mode=Mode.SUBTRACT)
            with BuildLine():
                Line((-3.5, -38.5), (-3.5, -41.062177826))
                ThreePointArc((-3.5, -41.062177826), (-4.949747468, -39.949747468), (-6.062177826, -38.5))
                Line((-6.062177826, -38.5), (-3.5, -38.5))
            make_face(mode=Mode.SUBTRACT)
            with BuildLine():
                Line((-3.5, -31.5), (-6.062177826, -31.5))
                ThreePointArc((-6.062177826, -31.5), (-4.949747468, -30.050252532), (-3.5, -28.937822174))
                Line((-3.5, -28.937822174), (-3.5, -31.5))
            make_face(mode=Mode.SUBTRACT)
            with BuildLine():
                Line((3.5, -31.5), (3.5, -28.937822174))
                ThreePointArc((3.5, -28.937822174), (4.949747468, -30.050252532), (6.062177826, -31.5))
                Line((6.062177826, -31.5), (3.5, -31.5))
            make_face(mode=Mode.SUBTRACT)
        extrude(amount=-BOSS_EXTRUDE12_DEPTH)

    # Sketch17 → Boss-Extrude13 (add)
    with SkipClean():  # the faces are left unmerged after this step: merging them gives an invalid solid
        with BuildSketch(Plane(origin=(0, 0, -1.35), x_dir=(-1, 0, 0), z_dir=(0, 0, -1)).offset(BOSS_EXTRUDE13_START)):
            with BuildLine():
                Line((-3.5, -24.161898011), (-3.5, -27.861898011))
                ThreePointArc((-3.5, -27.861898011), (0, -27.05), (3.5, -27.861898011))
                Line((3.5, -27.861898011), (3.5, -24.161898011))
                Line((3.5, -24.161898011), (-3.5, -24.161898011))
            make_face()
        extrude(amount=-BOSS_EXTRUDE13_DEPTH)


solid = part.part
